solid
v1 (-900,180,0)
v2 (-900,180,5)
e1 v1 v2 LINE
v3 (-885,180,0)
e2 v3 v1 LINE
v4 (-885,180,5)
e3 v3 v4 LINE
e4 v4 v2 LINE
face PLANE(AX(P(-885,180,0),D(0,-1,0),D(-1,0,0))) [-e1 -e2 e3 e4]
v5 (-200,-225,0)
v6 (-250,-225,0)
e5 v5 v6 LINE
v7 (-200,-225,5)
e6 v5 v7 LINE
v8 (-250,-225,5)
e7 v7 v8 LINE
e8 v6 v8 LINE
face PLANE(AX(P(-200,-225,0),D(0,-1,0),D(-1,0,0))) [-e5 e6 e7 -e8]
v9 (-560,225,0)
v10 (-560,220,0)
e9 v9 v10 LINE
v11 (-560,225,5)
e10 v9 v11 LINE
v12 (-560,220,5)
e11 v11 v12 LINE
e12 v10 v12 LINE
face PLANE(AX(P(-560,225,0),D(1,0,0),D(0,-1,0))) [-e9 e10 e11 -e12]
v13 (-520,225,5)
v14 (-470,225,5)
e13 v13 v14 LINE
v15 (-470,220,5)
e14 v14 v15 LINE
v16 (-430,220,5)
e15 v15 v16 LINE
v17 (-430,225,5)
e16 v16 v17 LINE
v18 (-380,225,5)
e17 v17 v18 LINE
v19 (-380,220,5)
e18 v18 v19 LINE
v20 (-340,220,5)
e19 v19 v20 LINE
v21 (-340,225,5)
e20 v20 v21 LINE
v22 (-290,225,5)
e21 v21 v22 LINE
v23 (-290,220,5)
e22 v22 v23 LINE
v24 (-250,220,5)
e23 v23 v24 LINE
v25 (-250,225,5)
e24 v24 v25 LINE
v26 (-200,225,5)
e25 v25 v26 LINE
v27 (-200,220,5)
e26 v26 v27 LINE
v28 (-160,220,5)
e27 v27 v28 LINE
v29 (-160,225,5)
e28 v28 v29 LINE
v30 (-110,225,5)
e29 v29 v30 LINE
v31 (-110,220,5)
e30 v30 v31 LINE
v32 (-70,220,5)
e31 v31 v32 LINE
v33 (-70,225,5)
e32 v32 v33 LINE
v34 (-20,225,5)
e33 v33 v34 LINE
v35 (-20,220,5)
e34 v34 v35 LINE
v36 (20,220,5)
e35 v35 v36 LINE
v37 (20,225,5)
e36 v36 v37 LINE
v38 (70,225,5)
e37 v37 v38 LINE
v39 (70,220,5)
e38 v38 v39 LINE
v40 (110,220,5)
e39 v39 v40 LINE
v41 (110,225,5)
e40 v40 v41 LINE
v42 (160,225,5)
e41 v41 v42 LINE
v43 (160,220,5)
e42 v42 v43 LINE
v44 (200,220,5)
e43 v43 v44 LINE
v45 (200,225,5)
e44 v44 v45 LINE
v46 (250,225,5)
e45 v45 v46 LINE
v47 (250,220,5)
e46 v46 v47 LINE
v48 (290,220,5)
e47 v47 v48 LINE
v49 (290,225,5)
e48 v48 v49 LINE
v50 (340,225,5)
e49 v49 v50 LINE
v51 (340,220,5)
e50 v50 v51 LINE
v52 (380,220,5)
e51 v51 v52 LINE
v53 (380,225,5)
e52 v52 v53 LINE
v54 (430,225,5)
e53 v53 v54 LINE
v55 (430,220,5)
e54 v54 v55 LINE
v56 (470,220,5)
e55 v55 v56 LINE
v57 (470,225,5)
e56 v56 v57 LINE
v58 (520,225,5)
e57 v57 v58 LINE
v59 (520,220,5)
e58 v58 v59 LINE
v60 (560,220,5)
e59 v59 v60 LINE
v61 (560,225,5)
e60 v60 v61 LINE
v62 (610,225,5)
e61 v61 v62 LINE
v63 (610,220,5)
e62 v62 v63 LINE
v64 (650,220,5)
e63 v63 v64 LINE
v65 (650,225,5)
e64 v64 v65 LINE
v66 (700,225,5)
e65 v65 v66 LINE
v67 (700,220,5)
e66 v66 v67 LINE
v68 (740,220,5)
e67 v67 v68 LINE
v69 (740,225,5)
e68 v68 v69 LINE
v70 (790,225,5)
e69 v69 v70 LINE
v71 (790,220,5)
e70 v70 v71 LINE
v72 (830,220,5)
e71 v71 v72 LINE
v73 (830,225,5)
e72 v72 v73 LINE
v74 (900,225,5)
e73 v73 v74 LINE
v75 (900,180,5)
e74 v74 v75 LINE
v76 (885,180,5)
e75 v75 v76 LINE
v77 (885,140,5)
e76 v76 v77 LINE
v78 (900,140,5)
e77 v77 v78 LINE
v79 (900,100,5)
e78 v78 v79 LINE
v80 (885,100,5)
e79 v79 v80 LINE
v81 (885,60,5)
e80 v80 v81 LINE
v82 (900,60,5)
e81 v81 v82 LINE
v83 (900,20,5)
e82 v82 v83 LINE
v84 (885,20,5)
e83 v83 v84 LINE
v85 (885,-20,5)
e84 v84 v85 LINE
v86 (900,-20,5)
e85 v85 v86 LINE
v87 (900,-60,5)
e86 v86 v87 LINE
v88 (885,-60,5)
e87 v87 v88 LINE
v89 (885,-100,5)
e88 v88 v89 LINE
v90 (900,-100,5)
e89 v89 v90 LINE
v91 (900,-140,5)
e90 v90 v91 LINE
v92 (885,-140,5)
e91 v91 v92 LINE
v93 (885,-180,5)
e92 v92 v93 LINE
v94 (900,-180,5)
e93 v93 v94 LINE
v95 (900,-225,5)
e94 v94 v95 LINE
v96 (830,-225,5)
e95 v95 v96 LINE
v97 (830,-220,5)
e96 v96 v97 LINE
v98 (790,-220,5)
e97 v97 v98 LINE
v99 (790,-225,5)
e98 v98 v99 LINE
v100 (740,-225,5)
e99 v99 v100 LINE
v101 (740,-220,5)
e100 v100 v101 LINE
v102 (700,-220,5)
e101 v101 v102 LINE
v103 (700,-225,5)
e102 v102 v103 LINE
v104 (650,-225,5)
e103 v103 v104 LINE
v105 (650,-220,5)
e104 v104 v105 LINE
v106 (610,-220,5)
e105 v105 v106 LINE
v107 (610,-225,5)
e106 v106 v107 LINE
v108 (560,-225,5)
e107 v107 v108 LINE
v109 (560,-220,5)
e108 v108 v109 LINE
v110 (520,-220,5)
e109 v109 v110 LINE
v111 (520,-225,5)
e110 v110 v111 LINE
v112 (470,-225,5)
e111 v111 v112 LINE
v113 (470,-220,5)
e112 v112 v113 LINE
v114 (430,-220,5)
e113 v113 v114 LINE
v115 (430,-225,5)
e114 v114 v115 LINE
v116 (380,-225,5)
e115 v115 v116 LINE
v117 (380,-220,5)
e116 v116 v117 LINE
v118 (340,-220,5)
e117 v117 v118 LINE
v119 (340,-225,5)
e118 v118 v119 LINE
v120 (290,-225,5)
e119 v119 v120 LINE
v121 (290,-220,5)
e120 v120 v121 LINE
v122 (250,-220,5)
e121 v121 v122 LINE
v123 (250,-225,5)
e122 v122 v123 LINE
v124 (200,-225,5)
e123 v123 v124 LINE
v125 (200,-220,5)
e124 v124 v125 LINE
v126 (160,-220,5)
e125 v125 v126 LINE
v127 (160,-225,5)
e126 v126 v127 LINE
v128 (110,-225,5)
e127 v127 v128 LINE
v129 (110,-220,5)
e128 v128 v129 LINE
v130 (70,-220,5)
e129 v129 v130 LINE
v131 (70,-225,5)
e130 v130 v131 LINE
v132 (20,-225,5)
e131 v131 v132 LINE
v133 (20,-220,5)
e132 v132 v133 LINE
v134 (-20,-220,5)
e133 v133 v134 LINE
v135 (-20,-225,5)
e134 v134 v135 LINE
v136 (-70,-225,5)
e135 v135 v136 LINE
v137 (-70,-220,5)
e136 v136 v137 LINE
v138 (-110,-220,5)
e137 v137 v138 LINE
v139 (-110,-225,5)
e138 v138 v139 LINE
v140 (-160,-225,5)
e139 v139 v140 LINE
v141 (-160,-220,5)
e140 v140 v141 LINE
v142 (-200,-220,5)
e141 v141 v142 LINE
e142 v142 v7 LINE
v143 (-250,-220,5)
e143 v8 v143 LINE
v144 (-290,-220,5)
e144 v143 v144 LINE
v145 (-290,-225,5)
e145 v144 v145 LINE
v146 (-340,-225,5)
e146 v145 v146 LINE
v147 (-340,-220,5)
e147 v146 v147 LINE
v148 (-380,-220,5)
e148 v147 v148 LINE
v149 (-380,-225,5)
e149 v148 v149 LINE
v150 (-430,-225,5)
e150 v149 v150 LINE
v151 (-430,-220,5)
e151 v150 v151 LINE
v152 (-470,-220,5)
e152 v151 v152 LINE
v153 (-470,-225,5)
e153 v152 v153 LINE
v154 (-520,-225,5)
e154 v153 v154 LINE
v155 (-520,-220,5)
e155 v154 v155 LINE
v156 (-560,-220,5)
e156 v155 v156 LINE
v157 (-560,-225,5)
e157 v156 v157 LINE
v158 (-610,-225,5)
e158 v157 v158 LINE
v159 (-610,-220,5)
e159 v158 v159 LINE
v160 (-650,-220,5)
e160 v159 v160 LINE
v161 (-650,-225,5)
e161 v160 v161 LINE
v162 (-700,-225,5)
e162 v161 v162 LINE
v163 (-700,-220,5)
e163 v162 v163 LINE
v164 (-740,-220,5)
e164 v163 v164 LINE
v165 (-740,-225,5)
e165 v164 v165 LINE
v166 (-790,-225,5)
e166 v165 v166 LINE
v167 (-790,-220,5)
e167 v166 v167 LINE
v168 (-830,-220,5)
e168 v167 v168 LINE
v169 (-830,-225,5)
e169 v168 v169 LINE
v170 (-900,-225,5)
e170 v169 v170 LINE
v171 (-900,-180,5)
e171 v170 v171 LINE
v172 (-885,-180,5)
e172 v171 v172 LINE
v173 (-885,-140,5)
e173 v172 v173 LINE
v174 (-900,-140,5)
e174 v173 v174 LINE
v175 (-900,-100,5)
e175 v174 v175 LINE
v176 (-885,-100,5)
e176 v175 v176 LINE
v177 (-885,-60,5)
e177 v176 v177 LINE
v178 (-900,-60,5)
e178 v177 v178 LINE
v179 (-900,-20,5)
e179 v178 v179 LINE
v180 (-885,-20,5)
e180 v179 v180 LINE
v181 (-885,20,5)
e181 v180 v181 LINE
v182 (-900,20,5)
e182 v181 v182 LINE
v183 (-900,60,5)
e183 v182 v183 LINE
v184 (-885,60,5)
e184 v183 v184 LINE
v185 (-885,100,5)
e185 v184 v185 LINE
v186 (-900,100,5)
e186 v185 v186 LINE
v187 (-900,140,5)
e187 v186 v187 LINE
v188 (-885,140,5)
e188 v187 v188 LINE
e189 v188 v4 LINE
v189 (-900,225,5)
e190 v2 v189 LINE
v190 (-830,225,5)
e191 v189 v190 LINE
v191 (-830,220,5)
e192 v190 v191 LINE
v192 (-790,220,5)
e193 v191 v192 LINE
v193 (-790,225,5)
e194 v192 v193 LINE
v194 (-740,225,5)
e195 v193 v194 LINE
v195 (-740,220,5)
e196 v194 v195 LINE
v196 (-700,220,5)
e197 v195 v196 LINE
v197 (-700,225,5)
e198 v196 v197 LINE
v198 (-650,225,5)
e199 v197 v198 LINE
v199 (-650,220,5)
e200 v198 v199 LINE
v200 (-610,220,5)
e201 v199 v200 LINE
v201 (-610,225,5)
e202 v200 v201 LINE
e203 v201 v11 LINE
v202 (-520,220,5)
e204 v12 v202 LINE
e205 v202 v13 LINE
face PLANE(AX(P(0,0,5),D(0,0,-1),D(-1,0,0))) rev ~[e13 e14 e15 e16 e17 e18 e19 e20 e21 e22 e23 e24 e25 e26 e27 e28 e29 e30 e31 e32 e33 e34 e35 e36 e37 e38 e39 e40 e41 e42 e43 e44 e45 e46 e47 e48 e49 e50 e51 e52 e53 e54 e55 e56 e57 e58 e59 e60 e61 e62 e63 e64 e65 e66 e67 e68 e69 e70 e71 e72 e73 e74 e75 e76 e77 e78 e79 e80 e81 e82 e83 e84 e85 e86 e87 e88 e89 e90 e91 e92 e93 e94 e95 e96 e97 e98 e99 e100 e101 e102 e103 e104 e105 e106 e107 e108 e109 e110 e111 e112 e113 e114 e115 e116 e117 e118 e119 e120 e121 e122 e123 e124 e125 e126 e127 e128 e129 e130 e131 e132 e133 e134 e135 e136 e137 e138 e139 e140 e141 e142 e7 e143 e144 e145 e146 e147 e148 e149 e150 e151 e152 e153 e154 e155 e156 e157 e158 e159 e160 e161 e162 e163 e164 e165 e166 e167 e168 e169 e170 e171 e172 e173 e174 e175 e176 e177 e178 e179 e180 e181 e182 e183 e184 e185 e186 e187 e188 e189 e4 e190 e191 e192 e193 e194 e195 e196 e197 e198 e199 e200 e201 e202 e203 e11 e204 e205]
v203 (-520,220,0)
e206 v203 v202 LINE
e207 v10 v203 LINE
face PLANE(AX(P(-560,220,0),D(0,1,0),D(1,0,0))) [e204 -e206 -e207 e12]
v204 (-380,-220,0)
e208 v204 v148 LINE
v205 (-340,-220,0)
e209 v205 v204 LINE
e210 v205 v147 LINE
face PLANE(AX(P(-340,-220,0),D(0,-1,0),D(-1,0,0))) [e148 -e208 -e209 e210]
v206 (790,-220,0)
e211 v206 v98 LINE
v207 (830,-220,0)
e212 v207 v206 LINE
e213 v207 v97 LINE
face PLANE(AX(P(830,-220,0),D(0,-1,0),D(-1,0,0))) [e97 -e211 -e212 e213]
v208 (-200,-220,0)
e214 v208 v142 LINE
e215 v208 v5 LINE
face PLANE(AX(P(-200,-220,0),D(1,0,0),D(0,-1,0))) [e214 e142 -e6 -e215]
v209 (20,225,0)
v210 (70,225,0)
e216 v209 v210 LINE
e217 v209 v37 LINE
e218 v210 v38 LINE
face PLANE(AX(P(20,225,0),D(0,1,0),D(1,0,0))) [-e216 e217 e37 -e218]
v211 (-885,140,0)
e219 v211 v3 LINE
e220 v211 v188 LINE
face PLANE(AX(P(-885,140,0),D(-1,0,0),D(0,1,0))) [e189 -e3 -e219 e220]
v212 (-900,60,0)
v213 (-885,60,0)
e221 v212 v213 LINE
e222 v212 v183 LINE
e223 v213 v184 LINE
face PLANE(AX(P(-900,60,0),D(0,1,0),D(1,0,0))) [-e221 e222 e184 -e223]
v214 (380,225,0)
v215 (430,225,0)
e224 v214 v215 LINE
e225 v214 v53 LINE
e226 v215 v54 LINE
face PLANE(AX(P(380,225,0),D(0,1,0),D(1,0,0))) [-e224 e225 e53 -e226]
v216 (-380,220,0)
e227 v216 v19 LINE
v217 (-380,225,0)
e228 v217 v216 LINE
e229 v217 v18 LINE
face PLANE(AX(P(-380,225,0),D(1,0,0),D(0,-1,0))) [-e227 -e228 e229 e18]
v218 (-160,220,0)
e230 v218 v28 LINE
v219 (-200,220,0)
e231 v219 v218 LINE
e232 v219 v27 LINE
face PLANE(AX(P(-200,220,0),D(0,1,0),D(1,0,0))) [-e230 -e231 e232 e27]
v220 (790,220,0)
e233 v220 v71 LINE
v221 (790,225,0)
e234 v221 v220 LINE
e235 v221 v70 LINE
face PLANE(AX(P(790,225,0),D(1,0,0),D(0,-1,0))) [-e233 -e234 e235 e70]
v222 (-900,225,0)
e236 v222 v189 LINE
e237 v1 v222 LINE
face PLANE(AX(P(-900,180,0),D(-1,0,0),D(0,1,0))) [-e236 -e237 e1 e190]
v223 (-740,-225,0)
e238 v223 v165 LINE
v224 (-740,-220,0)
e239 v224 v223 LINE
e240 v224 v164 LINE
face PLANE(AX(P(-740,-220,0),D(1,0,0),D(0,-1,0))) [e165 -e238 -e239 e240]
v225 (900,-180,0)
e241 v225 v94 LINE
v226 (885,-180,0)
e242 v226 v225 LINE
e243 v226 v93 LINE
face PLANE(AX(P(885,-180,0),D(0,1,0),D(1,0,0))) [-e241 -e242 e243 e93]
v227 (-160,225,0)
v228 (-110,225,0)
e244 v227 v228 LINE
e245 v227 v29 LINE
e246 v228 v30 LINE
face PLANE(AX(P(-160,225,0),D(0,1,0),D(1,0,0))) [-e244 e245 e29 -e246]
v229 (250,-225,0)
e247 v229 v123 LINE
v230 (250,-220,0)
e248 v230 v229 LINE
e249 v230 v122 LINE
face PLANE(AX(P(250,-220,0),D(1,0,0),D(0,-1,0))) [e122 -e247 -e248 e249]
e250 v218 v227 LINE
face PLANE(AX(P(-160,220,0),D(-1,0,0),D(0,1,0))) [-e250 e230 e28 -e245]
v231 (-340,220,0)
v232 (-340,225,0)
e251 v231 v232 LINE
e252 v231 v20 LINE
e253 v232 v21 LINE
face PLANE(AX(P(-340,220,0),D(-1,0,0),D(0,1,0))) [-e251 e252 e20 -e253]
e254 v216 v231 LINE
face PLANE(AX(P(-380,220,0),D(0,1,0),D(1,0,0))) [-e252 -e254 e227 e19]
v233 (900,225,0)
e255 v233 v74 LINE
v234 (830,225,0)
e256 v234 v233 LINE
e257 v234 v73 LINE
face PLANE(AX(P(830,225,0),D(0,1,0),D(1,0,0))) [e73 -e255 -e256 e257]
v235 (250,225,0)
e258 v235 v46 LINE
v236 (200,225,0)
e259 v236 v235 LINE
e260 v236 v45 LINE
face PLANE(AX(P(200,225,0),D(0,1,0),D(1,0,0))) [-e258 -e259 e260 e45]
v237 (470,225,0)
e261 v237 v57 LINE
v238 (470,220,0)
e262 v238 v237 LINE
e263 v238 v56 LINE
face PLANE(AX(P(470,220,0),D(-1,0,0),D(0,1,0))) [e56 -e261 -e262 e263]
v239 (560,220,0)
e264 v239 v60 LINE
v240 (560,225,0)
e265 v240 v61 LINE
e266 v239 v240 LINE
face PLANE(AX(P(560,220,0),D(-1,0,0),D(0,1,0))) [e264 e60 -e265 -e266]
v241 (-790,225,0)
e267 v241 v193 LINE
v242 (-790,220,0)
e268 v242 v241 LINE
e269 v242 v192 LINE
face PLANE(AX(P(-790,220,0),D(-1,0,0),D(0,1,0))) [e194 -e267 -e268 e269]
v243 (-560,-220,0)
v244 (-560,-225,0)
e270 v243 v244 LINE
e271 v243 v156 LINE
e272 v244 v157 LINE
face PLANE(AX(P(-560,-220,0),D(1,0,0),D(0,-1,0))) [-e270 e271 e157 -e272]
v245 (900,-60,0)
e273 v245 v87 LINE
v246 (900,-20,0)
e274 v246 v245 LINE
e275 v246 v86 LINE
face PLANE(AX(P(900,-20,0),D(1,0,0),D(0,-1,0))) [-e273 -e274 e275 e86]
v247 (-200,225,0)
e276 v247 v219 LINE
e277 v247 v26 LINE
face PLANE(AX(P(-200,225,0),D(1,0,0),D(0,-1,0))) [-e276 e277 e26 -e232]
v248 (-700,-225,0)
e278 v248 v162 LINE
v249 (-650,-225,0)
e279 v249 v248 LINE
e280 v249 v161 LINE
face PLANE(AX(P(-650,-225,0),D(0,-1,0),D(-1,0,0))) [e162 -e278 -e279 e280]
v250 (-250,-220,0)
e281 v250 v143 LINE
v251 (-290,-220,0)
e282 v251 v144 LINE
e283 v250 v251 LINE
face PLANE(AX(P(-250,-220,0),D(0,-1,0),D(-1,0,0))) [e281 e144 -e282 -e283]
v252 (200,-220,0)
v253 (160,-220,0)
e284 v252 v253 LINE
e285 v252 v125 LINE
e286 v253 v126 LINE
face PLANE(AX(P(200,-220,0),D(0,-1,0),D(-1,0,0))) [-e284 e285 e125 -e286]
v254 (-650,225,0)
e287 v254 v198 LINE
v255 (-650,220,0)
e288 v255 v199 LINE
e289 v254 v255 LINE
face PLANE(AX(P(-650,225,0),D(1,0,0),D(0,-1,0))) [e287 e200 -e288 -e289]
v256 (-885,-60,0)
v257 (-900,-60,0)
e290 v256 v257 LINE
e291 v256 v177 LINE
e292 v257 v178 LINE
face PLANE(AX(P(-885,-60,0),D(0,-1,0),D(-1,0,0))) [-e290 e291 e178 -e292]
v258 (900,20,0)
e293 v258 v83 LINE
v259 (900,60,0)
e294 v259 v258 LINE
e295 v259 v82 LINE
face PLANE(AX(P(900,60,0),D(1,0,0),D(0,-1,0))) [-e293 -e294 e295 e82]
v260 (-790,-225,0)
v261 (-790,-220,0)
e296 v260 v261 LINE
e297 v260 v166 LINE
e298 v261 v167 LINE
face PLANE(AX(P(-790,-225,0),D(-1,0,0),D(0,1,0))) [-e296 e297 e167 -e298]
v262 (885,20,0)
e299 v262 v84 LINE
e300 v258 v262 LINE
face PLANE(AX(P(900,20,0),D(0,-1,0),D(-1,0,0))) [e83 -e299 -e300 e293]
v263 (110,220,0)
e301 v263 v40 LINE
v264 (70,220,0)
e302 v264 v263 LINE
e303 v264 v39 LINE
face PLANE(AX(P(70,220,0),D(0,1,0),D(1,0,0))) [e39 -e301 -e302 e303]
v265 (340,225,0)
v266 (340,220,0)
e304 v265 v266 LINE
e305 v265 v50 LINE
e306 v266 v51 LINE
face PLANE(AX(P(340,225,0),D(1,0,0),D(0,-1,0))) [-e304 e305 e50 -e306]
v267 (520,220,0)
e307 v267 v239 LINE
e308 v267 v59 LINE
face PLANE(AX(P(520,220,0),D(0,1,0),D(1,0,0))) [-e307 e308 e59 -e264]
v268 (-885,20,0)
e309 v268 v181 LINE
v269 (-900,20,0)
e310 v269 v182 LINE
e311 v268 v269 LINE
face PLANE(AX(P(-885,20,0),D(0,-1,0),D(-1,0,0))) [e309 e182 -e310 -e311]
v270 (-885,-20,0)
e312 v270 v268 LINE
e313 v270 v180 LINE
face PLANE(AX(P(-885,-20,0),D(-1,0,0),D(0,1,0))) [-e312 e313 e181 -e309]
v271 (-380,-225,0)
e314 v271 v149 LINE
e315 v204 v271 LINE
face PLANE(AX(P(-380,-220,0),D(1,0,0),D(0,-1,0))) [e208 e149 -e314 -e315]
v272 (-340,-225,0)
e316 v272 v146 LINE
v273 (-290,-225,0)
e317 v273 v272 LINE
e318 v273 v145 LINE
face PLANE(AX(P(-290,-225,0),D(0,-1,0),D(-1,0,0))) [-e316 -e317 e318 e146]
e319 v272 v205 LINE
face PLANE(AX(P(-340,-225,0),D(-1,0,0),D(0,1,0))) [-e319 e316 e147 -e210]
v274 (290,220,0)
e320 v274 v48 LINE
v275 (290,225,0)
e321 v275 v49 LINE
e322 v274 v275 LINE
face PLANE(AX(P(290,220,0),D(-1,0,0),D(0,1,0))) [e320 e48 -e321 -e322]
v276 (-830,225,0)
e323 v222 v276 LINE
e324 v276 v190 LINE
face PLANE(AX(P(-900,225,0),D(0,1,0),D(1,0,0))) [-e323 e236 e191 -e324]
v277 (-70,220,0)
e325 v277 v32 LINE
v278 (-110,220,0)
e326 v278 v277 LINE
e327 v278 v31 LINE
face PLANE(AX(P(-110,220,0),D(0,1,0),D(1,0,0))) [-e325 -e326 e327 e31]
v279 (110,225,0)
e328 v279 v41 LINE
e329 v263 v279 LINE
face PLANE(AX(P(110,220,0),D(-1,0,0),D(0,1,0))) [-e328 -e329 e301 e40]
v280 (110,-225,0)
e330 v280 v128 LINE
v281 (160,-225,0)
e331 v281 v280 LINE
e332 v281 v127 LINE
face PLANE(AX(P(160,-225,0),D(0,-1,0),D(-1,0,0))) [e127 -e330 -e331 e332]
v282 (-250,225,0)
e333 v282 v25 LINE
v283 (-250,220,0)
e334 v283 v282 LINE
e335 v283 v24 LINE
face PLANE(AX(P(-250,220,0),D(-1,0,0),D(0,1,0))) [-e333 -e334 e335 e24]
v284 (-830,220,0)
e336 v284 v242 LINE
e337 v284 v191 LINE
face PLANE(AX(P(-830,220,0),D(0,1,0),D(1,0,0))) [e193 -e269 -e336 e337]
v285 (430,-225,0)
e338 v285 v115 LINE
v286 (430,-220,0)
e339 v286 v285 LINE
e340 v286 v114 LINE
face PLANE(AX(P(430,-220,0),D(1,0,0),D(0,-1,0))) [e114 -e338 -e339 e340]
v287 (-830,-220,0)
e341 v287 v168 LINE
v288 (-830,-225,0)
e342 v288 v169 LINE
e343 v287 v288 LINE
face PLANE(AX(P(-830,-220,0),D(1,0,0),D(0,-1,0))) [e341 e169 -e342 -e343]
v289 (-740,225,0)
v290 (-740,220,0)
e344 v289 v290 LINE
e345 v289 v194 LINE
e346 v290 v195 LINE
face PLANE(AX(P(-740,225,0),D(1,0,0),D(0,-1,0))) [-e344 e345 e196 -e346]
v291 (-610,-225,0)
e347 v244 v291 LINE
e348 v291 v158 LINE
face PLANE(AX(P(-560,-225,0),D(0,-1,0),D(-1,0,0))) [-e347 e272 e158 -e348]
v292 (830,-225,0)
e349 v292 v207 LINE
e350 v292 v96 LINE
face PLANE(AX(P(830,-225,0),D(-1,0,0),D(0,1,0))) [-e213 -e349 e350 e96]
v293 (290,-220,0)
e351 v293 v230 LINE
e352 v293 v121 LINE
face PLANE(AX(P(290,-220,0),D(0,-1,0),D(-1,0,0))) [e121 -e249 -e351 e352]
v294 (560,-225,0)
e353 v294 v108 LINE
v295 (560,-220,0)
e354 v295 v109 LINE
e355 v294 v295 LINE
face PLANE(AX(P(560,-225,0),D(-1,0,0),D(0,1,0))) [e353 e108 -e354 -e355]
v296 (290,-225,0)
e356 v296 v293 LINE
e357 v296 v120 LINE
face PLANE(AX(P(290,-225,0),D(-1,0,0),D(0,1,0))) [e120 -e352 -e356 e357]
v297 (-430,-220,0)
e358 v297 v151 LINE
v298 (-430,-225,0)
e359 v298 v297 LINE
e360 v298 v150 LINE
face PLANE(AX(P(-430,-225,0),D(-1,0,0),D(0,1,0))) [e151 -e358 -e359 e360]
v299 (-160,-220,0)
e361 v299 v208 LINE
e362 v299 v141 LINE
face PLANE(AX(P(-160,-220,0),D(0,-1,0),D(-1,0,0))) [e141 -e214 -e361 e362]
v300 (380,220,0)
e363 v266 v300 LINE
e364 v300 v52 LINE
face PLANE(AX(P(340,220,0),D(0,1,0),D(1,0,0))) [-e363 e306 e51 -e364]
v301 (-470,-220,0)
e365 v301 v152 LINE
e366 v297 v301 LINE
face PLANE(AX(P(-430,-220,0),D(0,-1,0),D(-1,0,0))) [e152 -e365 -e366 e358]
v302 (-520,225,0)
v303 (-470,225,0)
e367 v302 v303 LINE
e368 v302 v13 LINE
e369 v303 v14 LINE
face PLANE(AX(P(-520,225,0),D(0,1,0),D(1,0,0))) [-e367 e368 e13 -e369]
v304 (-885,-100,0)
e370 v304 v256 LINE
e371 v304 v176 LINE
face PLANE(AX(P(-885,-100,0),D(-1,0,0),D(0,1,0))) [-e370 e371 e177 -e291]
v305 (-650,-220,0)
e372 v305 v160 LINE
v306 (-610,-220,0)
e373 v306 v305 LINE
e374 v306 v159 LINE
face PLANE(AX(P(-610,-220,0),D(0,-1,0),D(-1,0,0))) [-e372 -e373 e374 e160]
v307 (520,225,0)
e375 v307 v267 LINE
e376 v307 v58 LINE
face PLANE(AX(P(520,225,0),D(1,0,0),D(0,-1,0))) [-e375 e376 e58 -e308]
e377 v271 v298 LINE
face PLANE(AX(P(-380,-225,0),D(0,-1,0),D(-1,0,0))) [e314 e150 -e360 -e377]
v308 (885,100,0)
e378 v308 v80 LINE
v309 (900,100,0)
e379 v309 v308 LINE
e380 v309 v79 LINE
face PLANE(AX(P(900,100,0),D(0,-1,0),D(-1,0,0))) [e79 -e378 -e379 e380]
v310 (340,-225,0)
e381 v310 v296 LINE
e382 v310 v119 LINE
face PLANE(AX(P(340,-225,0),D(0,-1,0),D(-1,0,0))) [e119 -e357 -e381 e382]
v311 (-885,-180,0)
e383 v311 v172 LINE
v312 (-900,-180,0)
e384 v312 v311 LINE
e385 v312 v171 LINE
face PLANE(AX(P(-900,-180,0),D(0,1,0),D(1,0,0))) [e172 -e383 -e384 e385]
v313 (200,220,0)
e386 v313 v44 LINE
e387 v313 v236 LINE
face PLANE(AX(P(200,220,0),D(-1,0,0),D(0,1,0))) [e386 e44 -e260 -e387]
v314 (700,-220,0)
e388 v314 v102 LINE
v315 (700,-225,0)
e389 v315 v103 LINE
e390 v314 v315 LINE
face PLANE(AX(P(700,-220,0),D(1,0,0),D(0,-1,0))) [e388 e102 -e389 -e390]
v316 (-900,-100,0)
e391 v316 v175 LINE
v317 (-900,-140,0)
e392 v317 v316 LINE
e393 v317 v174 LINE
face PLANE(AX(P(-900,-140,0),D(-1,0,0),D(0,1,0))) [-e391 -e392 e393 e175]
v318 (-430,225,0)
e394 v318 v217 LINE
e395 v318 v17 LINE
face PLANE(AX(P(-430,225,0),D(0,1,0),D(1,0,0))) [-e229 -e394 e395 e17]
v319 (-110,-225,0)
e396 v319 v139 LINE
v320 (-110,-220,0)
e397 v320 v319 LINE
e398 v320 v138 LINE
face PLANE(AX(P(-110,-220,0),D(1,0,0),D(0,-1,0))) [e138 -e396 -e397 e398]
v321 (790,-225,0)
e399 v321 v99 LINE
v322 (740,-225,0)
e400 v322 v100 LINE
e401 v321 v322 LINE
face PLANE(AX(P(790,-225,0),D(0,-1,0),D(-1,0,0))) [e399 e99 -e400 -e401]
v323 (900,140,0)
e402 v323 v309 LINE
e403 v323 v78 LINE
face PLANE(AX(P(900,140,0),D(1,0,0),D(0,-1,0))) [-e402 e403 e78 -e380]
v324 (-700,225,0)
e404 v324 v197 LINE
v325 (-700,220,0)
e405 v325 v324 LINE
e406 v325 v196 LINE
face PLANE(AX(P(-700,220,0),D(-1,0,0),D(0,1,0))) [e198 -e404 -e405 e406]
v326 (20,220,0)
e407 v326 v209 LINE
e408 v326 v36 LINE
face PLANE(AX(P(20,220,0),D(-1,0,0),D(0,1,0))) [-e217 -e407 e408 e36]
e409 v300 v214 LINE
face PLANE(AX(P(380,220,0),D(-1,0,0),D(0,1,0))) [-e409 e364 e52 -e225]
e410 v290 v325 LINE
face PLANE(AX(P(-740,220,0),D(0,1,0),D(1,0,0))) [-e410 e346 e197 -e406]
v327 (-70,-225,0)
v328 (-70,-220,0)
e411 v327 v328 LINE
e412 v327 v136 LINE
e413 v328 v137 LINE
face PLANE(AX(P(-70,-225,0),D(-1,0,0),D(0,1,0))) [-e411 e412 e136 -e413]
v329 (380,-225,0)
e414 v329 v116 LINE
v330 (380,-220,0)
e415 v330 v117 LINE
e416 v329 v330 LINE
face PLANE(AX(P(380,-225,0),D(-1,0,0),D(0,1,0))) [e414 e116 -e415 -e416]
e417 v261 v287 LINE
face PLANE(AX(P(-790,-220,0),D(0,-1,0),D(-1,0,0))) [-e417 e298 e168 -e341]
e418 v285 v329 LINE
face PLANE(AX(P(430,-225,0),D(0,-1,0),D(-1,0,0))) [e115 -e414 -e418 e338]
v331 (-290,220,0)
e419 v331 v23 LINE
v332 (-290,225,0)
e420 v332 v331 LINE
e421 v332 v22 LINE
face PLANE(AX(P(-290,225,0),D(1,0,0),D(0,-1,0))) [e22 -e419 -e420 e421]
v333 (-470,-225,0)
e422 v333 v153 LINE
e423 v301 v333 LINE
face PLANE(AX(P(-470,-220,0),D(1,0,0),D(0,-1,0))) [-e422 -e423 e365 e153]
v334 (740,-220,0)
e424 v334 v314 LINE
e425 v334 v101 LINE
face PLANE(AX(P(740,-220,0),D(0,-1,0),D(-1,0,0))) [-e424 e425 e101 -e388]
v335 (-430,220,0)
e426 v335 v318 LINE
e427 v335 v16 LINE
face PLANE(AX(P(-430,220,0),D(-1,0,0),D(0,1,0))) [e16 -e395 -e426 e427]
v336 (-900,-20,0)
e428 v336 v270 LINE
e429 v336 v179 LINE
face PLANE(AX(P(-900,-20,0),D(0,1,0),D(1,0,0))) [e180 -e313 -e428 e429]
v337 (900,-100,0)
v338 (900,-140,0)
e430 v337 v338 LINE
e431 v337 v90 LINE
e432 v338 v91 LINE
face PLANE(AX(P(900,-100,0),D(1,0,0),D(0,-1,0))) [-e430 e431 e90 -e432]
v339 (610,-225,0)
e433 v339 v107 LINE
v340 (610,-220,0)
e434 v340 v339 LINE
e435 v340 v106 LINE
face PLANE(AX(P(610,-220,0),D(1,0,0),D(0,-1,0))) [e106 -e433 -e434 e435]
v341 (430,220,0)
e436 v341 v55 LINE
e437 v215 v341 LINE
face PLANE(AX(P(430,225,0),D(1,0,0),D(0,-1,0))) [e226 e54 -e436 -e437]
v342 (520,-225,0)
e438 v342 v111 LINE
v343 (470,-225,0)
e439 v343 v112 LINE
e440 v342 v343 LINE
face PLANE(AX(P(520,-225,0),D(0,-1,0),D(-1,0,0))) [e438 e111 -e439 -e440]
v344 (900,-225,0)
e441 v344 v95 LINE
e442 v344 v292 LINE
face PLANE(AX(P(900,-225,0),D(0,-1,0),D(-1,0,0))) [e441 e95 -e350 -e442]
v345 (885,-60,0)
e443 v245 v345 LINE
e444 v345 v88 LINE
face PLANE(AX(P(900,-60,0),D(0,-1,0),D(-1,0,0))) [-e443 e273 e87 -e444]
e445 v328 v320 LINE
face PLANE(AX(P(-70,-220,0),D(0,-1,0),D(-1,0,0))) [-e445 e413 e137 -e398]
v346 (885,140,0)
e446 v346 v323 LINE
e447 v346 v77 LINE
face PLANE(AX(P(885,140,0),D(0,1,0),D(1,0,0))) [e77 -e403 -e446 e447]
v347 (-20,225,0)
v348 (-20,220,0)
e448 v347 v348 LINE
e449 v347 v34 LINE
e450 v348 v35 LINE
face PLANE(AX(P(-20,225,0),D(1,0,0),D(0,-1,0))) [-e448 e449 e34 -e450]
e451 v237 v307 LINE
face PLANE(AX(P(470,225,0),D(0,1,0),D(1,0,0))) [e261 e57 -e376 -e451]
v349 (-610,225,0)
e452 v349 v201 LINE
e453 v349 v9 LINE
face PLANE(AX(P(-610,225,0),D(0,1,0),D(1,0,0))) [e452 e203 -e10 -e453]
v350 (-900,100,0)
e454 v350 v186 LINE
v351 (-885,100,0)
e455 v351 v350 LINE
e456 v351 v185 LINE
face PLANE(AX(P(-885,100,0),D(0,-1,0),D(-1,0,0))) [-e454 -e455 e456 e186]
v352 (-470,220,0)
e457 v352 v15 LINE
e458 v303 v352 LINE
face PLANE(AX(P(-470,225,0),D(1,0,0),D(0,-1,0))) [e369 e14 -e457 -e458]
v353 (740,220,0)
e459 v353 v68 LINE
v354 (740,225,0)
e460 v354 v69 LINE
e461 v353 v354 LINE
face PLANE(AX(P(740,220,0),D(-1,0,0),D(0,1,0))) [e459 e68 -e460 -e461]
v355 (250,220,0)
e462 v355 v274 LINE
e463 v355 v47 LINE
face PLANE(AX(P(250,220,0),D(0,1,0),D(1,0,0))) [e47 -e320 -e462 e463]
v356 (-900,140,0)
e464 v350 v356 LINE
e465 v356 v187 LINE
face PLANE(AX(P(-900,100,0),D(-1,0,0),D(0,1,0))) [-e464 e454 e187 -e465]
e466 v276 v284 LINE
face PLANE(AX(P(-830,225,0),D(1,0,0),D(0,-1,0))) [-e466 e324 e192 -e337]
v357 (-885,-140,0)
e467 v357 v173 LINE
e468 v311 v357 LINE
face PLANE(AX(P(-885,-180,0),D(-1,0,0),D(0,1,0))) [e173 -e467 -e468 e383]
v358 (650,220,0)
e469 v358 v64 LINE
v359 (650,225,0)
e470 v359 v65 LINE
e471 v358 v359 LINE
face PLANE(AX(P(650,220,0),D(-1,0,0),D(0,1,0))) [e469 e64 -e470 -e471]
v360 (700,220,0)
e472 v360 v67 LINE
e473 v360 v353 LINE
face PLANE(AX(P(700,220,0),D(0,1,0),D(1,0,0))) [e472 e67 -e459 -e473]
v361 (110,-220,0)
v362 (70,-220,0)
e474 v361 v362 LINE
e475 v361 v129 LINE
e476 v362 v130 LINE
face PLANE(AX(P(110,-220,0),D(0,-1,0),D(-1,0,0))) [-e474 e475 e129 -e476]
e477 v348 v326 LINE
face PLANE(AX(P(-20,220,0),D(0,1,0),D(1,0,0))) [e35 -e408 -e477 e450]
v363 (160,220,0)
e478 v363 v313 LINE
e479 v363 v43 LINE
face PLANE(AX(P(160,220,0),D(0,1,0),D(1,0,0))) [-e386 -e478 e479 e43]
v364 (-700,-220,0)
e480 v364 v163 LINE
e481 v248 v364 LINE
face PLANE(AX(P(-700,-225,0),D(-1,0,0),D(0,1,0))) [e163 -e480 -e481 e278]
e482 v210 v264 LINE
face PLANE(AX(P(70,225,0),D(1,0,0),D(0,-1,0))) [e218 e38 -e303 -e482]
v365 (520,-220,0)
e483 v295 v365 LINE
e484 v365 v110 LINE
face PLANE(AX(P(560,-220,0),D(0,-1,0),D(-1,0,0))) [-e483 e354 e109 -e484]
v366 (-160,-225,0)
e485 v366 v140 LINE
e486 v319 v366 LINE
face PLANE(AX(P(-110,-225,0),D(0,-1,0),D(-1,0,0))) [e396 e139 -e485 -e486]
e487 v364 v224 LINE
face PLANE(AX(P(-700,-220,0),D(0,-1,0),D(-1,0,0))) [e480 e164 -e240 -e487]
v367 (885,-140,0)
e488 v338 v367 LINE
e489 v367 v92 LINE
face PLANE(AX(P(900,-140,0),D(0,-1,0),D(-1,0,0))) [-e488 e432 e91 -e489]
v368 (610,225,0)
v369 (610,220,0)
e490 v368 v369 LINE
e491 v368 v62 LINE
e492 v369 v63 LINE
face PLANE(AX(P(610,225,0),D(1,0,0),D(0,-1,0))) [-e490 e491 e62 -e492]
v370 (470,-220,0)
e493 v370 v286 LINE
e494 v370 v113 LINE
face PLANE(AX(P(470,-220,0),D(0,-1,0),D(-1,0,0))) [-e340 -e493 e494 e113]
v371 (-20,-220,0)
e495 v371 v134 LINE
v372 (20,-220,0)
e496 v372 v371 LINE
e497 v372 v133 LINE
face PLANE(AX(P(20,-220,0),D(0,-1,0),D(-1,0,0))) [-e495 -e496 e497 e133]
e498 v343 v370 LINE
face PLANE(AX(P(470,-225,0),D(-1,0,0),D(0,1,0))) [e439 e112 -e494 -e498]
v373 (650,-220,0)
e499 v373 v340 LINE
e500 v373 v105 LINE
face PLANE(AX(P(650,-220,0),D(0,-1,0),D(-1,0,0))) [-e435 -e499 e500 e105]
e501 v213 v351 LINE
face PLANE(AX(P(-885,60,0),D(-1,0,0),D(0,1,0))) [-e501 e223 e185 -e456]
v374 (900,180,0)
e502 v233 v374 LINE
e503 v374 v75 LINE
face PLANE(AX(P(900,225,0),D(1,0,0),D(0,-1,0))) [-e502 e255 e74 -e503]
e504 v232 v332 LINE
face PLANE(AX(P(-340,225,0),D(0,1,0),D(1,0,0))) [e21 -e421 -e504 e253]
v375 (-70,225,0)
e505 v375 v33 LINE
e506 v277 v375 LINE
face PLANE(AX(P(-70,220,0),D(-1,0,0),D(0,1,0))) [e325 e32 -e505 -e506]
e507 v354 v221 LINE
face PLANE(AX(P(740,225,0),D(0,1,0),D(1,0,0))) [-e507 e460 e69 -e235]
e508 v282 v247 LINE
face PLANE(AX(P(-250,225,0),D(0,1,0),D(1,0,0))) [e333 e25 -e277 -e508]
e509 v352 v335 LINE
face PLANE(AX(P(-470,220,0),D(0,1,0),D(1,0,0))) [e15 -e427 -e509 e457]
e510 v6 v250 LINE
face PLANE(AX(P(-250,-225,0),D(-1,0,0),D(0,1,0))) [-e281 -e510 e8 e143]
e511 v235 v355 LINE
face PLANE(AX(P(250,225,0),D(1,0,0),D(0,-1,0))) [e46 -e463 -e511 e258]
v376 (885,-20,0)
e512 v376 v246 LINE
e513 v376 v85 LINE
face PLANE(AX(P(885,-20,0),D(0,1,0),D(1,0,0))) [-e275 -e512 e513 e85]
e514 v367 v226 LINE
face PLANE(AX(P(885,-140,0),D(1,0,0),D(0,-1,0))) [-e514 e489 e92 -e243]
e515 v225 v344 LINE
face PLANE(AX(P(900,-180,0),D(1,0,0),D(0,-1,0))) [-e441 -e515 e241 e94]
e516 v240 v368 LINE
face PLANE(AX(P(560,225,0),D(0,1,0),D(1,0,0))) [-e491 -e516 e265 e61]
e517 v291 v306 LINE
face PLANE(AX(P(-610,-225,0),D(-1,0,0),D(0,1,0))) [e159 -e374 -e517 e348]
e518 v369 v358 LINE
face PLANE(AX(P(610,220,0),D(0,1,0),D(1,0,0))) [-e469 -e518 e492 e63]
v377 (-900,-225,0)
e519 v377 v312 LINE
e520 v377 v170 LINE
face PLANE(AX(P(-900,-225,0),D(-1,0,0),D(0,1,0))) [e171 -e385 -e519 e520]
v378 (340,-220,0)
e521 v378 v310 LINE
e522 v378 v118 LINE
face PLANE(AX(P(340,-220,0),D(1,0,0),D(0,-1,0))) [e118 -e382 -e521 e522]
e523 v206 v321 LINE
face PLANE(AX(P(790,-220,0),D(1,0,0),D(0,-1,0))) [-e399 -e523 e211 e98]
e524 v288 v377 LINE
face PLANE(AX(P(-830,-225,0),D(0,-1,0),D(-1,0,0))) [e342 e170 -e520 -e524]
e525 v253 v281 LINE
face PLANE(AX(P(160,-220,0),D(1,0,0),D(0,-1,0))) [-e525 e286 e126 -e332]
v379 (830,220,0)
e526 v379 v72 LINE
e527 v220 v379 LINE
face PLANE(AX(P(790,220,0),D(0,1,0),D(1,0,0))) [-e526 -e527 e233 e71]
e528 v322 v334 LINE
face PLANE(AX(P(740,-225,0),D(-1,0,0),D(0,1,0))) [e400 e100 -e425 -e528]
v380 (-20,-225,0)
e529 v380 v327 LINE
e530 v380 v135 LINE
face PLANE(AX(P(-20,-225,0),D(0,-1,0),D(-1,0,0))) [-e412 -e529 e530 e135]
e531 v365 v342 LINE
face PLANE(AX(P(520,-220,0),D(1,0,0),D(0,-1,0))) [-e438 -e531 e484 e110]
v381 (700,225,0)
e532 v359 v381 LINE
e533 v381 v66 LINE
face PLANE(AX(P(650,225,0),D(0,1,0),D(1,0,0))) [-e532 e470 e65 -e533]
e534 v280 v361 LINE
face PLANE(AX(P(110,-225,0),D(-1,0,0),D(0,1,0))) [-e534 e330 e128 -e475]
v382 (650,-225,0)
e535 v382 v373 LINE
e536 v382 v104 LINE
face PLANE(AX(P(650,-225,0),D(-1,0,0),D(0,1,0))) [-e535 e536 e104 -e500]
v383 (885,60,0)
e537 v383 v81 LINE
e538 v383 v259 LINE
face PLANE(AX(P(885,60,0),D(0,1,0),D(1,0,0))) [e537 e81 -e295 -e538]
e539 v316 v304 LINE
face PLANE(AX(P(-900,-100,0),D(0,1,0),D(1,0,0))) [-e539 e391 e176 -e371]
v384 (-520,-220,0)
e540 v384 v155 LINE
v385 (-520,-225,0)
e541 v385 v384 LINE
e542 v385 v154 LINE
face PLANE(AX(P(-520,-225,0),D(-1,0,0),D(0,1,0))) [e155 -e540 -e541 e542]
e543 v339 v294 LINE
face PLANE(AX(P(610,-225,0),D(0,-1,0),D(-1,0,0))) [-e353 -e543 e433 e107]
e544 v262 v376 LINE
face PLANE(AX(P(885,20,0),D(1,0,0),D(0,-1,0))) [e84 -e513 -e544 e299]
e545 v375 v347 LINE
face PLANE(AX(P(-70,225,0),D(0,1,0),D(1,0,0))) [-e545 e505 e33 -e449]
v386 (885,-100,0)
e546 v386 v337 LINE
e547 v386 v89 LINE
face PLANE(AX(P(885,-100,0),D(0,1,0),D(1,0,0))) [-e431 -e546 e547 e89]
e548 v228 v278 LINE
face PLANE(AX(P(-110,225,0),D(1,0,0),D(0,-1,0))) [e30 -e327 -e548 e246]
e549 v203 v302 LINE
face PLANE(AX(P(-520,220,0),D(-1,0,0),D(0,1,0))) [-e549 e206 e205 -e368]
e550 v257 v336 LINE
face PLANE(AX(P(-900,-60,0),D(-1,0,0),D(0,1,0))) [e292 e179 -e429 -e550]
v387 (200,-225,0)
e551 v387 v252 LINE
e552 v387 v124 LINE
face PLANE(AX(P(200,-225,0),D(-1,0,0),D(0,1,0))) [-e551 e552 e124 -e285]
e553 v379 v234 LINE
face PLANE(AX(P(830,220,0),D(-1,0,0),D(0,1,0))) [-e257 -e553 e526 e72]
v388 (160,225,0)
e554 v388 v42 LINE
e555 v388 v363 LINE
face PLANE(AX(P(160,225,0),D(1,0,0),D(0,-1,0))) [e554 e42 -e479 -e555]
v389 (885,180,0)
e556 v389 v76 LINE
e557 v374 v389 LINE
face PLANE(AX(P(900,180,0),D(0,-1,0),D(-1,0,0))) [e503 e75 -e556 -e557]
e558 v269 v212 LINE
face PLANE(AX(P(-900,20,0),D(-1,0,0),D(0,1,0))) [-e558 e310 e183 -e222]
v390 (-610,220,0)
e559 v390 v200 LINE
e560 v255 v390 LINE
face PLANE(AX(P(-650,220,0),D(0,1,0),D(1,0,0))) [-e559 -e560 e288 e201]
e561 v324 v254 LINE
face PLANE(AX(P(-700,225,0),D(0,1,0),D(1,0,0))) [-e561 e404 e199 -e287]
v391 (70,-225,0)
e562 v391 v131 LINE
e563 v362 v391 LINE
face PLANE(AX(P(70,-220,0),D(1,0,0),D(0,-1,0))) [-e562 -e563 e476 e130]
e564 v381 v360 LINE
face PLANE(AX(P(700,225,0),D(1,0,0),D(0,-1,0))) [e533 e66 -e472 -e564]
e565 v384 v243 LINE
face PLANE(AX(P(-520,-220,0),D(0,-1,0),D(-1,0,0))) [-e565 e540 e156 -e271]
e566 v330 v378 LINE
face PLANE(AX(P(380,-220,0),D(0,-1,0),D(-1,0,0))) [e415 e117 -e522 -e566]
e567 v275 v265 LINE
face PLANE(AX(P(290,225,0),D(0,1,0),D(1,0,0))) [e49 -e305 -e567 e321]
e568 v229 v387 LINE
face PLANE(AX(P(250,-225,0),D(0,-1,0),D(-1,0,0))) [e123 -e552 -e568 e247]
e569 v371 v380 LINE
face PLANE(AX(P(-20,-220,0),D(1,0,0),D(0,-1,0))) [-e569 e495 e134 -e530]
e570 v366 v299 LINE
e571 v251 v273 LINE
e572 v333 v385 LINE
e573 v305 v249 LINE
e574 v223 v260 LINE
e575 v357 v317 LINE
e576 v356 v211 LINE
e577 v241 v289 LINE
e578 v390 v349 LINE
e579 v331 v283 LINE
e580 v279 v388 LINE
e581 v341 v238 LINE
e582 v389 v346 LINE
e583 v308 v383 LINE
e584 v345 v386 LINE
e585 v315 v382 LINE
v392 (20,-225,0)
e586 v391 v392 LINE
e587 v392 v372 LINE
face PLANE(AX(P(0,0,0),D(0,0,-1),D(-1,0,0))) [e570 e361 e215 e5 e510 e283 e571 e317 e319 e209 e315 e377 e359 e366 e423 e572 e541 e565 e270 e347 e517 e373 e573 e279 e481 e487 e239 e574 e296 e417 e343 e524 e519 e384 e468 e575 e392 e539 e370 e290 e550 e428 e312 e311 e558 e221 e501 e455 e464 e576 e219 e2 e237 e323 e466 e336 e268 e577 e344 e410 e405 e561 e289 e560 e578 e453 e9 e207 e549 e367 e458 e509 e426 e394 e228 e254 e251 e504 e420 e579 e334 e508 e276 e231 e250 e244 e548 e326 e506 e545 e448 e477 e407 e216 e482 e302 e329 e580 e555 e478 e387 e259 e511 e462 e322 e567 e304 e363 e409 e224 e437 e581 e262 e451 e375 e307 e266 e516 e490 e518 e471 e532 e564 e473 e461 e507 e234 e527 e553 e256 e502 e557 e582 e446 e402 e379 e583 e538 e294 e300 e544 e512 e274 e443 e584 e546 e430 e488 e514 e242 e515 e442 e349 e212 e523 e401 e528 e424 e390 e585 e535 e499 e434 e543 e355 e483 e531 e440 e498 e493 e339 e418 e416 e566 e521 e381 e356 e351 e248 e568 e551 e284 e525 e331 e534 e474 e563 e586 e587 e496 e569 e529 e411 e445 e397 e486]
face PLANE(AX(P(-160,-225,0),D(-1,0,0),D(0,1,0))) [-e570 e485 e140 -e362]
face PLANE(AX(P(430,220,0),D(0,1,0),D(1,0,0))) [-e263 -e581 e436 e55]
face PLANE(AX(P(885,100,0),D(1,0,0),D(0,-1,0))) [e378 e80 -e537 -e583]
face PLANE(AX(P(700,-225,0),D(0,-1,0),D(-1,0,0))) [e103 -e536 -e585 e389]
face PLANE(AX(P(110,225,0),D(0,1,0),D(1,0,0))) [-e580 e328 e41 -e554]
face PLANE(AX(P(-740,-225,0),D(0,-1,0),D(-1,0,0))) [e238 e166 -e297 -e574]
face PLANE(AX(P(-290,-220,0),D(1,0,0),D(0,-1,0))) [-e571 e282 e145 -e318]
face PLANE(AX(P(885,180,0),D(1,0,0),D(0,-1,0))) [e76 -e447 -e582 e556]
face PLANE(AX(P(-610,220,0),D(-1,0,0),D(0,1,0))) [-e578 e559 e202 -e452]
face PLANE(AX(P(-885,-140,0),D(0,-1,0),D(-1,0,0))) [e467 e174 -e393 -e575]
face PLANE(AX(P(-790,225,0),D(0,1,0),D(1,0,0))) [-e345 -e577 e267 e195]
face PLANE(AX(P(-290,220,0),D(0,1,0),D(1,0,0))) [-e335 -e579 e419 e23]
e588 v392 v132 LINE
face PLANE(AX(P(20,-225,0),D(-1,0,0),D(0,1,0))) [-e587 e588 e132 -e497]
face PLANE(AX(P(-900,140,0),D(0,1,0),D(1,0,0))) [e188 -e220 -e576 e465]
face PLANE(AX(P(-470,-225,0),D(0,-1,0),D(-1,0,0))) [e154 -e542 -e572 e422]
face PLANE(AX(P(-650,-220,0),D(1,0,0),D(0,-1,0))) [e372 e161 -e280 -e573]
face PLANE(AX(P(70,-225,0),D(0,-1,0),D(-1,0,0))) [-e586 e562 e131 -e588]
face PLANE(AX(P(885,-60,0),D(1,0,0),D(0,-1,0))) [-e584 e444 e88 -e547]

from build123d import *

# Parameters (mm, degrees)
BOSS_EXTRUDE1_DEPTH = 5


with BuildPart() as part:
    # Sketch1 → Boss-Extrude1 (new body)
    with BuildSketch(Plane.XY):
        Polygon((885, 100), (885, 60), (900, 60), (900, 20), (885, 20), (885, -20), (900, -20), (900, -60), (885, -60), (885, -100), (900, -100), (900, -140), (885, -140), (885, -180), (900, -180), (900, -225), (830, -225), (830, -220), (790, -220), (790, -225), (740, -225), (740, -220), (700, -220), (700, -225), (650, -225), (650, -220), (610, -220), (610, -225), (560, -225), (560, -220), (520, -220), (520, -225), (470, -225), (470, -220), (430, -220), (430, -225), (380, -225), (380, -220), (340, -220), (340, -225), (290, -225), (290, -220), (250, -220), (250, -225), (200, -225), (200, -220), (160, -220), (160, -225), (110, -225), (110, -220), (70, -220), (70, -225), (20, -225), (20, -220), (-20, -220), (-20, -225), (-70, -225), (-70, -220), (-110, -220), (-110, -225), (-160, -225), (-160, -220), (-200, -220), (-200, -225), (-250, -225), (-250, -220), (-290, -220), (-290, -225), (-340, -225), (-340, -220), (-380, -220), (-380, -225), (-430, -225), (-430, -220), (-470, -220), (-470, -225), (-520, -225), (-520, -220), (-560, -220), (-560, -225), (-610, -225), (-610, -220), (-650, -220), (-650, -225), (-700, -225), (-700, -220), (-740, -220), (-740, -225), (-790, -225), (-790, -220), (-830, -220), (-830, -225), (-900, -225), (-900, -180), (-885, -180), (-885, -140), (-900, -140), (-900, -100), (-885, -100), (-885, -60), (-900, -60), (-900, -20), (-885, -20), (-885, 20), (-900, 20), (-900, 60), (-885, 60), (-885, 100), (-900, 100), (-900, 140), (-885, 140), (-885, 180), (-900, 180), (-900, 225), (-830, 225), (-830, 220), (-790, 220), (-790, 225), (-740, 225), (-740, 220), (-700, 220), (-700, 225), (-650, 225), (-650, 220), (-610, 220), (-610, 225), (-560, 225), (-560, 220), (-520, 220), (-520, 225), (-470, 225), (-470, 220), (-430, 220), (-430, 225), (-380, 225), (-380, 220), (-340, 220), (-340, 225), (-290, 225), (-290, 220), (-250, 220), (-250, 225), (-200, 225), (-200, 220), (-160, 220), (-160, 225), (-110, 225), (-110, 220), (-70, 220), (-70, 225), (-20, 225), (-20, 220), (20, 220), (20, 225), (70, 225), (70, 220), (110, 220), (110, 225), (160, 225), (160, 220), (200, 220), (200, 225), (250, 225), (250, 220), (290, 220), (290, 225), (340, 225), (340, 220), (380, 220), (380, 225), (430, 225), (430, 220), (470, 220), (470, 225), (520, 225), (520, 220), (560, 220), (560, 225), (610, 225), (610, 220), (650, 220), (650, 225), (700, 225), (700, 220), (740, 220), (740, 225), (790, 225), (790, 220), (830, 220), (830, 225), (900, 225), (900, 180), (885, 180), (885, 140), (900, 140), (900, 100), align=None)
    extrude(amount=BOSS_EXTRUDE1_DEPTH)


solid = part.part
